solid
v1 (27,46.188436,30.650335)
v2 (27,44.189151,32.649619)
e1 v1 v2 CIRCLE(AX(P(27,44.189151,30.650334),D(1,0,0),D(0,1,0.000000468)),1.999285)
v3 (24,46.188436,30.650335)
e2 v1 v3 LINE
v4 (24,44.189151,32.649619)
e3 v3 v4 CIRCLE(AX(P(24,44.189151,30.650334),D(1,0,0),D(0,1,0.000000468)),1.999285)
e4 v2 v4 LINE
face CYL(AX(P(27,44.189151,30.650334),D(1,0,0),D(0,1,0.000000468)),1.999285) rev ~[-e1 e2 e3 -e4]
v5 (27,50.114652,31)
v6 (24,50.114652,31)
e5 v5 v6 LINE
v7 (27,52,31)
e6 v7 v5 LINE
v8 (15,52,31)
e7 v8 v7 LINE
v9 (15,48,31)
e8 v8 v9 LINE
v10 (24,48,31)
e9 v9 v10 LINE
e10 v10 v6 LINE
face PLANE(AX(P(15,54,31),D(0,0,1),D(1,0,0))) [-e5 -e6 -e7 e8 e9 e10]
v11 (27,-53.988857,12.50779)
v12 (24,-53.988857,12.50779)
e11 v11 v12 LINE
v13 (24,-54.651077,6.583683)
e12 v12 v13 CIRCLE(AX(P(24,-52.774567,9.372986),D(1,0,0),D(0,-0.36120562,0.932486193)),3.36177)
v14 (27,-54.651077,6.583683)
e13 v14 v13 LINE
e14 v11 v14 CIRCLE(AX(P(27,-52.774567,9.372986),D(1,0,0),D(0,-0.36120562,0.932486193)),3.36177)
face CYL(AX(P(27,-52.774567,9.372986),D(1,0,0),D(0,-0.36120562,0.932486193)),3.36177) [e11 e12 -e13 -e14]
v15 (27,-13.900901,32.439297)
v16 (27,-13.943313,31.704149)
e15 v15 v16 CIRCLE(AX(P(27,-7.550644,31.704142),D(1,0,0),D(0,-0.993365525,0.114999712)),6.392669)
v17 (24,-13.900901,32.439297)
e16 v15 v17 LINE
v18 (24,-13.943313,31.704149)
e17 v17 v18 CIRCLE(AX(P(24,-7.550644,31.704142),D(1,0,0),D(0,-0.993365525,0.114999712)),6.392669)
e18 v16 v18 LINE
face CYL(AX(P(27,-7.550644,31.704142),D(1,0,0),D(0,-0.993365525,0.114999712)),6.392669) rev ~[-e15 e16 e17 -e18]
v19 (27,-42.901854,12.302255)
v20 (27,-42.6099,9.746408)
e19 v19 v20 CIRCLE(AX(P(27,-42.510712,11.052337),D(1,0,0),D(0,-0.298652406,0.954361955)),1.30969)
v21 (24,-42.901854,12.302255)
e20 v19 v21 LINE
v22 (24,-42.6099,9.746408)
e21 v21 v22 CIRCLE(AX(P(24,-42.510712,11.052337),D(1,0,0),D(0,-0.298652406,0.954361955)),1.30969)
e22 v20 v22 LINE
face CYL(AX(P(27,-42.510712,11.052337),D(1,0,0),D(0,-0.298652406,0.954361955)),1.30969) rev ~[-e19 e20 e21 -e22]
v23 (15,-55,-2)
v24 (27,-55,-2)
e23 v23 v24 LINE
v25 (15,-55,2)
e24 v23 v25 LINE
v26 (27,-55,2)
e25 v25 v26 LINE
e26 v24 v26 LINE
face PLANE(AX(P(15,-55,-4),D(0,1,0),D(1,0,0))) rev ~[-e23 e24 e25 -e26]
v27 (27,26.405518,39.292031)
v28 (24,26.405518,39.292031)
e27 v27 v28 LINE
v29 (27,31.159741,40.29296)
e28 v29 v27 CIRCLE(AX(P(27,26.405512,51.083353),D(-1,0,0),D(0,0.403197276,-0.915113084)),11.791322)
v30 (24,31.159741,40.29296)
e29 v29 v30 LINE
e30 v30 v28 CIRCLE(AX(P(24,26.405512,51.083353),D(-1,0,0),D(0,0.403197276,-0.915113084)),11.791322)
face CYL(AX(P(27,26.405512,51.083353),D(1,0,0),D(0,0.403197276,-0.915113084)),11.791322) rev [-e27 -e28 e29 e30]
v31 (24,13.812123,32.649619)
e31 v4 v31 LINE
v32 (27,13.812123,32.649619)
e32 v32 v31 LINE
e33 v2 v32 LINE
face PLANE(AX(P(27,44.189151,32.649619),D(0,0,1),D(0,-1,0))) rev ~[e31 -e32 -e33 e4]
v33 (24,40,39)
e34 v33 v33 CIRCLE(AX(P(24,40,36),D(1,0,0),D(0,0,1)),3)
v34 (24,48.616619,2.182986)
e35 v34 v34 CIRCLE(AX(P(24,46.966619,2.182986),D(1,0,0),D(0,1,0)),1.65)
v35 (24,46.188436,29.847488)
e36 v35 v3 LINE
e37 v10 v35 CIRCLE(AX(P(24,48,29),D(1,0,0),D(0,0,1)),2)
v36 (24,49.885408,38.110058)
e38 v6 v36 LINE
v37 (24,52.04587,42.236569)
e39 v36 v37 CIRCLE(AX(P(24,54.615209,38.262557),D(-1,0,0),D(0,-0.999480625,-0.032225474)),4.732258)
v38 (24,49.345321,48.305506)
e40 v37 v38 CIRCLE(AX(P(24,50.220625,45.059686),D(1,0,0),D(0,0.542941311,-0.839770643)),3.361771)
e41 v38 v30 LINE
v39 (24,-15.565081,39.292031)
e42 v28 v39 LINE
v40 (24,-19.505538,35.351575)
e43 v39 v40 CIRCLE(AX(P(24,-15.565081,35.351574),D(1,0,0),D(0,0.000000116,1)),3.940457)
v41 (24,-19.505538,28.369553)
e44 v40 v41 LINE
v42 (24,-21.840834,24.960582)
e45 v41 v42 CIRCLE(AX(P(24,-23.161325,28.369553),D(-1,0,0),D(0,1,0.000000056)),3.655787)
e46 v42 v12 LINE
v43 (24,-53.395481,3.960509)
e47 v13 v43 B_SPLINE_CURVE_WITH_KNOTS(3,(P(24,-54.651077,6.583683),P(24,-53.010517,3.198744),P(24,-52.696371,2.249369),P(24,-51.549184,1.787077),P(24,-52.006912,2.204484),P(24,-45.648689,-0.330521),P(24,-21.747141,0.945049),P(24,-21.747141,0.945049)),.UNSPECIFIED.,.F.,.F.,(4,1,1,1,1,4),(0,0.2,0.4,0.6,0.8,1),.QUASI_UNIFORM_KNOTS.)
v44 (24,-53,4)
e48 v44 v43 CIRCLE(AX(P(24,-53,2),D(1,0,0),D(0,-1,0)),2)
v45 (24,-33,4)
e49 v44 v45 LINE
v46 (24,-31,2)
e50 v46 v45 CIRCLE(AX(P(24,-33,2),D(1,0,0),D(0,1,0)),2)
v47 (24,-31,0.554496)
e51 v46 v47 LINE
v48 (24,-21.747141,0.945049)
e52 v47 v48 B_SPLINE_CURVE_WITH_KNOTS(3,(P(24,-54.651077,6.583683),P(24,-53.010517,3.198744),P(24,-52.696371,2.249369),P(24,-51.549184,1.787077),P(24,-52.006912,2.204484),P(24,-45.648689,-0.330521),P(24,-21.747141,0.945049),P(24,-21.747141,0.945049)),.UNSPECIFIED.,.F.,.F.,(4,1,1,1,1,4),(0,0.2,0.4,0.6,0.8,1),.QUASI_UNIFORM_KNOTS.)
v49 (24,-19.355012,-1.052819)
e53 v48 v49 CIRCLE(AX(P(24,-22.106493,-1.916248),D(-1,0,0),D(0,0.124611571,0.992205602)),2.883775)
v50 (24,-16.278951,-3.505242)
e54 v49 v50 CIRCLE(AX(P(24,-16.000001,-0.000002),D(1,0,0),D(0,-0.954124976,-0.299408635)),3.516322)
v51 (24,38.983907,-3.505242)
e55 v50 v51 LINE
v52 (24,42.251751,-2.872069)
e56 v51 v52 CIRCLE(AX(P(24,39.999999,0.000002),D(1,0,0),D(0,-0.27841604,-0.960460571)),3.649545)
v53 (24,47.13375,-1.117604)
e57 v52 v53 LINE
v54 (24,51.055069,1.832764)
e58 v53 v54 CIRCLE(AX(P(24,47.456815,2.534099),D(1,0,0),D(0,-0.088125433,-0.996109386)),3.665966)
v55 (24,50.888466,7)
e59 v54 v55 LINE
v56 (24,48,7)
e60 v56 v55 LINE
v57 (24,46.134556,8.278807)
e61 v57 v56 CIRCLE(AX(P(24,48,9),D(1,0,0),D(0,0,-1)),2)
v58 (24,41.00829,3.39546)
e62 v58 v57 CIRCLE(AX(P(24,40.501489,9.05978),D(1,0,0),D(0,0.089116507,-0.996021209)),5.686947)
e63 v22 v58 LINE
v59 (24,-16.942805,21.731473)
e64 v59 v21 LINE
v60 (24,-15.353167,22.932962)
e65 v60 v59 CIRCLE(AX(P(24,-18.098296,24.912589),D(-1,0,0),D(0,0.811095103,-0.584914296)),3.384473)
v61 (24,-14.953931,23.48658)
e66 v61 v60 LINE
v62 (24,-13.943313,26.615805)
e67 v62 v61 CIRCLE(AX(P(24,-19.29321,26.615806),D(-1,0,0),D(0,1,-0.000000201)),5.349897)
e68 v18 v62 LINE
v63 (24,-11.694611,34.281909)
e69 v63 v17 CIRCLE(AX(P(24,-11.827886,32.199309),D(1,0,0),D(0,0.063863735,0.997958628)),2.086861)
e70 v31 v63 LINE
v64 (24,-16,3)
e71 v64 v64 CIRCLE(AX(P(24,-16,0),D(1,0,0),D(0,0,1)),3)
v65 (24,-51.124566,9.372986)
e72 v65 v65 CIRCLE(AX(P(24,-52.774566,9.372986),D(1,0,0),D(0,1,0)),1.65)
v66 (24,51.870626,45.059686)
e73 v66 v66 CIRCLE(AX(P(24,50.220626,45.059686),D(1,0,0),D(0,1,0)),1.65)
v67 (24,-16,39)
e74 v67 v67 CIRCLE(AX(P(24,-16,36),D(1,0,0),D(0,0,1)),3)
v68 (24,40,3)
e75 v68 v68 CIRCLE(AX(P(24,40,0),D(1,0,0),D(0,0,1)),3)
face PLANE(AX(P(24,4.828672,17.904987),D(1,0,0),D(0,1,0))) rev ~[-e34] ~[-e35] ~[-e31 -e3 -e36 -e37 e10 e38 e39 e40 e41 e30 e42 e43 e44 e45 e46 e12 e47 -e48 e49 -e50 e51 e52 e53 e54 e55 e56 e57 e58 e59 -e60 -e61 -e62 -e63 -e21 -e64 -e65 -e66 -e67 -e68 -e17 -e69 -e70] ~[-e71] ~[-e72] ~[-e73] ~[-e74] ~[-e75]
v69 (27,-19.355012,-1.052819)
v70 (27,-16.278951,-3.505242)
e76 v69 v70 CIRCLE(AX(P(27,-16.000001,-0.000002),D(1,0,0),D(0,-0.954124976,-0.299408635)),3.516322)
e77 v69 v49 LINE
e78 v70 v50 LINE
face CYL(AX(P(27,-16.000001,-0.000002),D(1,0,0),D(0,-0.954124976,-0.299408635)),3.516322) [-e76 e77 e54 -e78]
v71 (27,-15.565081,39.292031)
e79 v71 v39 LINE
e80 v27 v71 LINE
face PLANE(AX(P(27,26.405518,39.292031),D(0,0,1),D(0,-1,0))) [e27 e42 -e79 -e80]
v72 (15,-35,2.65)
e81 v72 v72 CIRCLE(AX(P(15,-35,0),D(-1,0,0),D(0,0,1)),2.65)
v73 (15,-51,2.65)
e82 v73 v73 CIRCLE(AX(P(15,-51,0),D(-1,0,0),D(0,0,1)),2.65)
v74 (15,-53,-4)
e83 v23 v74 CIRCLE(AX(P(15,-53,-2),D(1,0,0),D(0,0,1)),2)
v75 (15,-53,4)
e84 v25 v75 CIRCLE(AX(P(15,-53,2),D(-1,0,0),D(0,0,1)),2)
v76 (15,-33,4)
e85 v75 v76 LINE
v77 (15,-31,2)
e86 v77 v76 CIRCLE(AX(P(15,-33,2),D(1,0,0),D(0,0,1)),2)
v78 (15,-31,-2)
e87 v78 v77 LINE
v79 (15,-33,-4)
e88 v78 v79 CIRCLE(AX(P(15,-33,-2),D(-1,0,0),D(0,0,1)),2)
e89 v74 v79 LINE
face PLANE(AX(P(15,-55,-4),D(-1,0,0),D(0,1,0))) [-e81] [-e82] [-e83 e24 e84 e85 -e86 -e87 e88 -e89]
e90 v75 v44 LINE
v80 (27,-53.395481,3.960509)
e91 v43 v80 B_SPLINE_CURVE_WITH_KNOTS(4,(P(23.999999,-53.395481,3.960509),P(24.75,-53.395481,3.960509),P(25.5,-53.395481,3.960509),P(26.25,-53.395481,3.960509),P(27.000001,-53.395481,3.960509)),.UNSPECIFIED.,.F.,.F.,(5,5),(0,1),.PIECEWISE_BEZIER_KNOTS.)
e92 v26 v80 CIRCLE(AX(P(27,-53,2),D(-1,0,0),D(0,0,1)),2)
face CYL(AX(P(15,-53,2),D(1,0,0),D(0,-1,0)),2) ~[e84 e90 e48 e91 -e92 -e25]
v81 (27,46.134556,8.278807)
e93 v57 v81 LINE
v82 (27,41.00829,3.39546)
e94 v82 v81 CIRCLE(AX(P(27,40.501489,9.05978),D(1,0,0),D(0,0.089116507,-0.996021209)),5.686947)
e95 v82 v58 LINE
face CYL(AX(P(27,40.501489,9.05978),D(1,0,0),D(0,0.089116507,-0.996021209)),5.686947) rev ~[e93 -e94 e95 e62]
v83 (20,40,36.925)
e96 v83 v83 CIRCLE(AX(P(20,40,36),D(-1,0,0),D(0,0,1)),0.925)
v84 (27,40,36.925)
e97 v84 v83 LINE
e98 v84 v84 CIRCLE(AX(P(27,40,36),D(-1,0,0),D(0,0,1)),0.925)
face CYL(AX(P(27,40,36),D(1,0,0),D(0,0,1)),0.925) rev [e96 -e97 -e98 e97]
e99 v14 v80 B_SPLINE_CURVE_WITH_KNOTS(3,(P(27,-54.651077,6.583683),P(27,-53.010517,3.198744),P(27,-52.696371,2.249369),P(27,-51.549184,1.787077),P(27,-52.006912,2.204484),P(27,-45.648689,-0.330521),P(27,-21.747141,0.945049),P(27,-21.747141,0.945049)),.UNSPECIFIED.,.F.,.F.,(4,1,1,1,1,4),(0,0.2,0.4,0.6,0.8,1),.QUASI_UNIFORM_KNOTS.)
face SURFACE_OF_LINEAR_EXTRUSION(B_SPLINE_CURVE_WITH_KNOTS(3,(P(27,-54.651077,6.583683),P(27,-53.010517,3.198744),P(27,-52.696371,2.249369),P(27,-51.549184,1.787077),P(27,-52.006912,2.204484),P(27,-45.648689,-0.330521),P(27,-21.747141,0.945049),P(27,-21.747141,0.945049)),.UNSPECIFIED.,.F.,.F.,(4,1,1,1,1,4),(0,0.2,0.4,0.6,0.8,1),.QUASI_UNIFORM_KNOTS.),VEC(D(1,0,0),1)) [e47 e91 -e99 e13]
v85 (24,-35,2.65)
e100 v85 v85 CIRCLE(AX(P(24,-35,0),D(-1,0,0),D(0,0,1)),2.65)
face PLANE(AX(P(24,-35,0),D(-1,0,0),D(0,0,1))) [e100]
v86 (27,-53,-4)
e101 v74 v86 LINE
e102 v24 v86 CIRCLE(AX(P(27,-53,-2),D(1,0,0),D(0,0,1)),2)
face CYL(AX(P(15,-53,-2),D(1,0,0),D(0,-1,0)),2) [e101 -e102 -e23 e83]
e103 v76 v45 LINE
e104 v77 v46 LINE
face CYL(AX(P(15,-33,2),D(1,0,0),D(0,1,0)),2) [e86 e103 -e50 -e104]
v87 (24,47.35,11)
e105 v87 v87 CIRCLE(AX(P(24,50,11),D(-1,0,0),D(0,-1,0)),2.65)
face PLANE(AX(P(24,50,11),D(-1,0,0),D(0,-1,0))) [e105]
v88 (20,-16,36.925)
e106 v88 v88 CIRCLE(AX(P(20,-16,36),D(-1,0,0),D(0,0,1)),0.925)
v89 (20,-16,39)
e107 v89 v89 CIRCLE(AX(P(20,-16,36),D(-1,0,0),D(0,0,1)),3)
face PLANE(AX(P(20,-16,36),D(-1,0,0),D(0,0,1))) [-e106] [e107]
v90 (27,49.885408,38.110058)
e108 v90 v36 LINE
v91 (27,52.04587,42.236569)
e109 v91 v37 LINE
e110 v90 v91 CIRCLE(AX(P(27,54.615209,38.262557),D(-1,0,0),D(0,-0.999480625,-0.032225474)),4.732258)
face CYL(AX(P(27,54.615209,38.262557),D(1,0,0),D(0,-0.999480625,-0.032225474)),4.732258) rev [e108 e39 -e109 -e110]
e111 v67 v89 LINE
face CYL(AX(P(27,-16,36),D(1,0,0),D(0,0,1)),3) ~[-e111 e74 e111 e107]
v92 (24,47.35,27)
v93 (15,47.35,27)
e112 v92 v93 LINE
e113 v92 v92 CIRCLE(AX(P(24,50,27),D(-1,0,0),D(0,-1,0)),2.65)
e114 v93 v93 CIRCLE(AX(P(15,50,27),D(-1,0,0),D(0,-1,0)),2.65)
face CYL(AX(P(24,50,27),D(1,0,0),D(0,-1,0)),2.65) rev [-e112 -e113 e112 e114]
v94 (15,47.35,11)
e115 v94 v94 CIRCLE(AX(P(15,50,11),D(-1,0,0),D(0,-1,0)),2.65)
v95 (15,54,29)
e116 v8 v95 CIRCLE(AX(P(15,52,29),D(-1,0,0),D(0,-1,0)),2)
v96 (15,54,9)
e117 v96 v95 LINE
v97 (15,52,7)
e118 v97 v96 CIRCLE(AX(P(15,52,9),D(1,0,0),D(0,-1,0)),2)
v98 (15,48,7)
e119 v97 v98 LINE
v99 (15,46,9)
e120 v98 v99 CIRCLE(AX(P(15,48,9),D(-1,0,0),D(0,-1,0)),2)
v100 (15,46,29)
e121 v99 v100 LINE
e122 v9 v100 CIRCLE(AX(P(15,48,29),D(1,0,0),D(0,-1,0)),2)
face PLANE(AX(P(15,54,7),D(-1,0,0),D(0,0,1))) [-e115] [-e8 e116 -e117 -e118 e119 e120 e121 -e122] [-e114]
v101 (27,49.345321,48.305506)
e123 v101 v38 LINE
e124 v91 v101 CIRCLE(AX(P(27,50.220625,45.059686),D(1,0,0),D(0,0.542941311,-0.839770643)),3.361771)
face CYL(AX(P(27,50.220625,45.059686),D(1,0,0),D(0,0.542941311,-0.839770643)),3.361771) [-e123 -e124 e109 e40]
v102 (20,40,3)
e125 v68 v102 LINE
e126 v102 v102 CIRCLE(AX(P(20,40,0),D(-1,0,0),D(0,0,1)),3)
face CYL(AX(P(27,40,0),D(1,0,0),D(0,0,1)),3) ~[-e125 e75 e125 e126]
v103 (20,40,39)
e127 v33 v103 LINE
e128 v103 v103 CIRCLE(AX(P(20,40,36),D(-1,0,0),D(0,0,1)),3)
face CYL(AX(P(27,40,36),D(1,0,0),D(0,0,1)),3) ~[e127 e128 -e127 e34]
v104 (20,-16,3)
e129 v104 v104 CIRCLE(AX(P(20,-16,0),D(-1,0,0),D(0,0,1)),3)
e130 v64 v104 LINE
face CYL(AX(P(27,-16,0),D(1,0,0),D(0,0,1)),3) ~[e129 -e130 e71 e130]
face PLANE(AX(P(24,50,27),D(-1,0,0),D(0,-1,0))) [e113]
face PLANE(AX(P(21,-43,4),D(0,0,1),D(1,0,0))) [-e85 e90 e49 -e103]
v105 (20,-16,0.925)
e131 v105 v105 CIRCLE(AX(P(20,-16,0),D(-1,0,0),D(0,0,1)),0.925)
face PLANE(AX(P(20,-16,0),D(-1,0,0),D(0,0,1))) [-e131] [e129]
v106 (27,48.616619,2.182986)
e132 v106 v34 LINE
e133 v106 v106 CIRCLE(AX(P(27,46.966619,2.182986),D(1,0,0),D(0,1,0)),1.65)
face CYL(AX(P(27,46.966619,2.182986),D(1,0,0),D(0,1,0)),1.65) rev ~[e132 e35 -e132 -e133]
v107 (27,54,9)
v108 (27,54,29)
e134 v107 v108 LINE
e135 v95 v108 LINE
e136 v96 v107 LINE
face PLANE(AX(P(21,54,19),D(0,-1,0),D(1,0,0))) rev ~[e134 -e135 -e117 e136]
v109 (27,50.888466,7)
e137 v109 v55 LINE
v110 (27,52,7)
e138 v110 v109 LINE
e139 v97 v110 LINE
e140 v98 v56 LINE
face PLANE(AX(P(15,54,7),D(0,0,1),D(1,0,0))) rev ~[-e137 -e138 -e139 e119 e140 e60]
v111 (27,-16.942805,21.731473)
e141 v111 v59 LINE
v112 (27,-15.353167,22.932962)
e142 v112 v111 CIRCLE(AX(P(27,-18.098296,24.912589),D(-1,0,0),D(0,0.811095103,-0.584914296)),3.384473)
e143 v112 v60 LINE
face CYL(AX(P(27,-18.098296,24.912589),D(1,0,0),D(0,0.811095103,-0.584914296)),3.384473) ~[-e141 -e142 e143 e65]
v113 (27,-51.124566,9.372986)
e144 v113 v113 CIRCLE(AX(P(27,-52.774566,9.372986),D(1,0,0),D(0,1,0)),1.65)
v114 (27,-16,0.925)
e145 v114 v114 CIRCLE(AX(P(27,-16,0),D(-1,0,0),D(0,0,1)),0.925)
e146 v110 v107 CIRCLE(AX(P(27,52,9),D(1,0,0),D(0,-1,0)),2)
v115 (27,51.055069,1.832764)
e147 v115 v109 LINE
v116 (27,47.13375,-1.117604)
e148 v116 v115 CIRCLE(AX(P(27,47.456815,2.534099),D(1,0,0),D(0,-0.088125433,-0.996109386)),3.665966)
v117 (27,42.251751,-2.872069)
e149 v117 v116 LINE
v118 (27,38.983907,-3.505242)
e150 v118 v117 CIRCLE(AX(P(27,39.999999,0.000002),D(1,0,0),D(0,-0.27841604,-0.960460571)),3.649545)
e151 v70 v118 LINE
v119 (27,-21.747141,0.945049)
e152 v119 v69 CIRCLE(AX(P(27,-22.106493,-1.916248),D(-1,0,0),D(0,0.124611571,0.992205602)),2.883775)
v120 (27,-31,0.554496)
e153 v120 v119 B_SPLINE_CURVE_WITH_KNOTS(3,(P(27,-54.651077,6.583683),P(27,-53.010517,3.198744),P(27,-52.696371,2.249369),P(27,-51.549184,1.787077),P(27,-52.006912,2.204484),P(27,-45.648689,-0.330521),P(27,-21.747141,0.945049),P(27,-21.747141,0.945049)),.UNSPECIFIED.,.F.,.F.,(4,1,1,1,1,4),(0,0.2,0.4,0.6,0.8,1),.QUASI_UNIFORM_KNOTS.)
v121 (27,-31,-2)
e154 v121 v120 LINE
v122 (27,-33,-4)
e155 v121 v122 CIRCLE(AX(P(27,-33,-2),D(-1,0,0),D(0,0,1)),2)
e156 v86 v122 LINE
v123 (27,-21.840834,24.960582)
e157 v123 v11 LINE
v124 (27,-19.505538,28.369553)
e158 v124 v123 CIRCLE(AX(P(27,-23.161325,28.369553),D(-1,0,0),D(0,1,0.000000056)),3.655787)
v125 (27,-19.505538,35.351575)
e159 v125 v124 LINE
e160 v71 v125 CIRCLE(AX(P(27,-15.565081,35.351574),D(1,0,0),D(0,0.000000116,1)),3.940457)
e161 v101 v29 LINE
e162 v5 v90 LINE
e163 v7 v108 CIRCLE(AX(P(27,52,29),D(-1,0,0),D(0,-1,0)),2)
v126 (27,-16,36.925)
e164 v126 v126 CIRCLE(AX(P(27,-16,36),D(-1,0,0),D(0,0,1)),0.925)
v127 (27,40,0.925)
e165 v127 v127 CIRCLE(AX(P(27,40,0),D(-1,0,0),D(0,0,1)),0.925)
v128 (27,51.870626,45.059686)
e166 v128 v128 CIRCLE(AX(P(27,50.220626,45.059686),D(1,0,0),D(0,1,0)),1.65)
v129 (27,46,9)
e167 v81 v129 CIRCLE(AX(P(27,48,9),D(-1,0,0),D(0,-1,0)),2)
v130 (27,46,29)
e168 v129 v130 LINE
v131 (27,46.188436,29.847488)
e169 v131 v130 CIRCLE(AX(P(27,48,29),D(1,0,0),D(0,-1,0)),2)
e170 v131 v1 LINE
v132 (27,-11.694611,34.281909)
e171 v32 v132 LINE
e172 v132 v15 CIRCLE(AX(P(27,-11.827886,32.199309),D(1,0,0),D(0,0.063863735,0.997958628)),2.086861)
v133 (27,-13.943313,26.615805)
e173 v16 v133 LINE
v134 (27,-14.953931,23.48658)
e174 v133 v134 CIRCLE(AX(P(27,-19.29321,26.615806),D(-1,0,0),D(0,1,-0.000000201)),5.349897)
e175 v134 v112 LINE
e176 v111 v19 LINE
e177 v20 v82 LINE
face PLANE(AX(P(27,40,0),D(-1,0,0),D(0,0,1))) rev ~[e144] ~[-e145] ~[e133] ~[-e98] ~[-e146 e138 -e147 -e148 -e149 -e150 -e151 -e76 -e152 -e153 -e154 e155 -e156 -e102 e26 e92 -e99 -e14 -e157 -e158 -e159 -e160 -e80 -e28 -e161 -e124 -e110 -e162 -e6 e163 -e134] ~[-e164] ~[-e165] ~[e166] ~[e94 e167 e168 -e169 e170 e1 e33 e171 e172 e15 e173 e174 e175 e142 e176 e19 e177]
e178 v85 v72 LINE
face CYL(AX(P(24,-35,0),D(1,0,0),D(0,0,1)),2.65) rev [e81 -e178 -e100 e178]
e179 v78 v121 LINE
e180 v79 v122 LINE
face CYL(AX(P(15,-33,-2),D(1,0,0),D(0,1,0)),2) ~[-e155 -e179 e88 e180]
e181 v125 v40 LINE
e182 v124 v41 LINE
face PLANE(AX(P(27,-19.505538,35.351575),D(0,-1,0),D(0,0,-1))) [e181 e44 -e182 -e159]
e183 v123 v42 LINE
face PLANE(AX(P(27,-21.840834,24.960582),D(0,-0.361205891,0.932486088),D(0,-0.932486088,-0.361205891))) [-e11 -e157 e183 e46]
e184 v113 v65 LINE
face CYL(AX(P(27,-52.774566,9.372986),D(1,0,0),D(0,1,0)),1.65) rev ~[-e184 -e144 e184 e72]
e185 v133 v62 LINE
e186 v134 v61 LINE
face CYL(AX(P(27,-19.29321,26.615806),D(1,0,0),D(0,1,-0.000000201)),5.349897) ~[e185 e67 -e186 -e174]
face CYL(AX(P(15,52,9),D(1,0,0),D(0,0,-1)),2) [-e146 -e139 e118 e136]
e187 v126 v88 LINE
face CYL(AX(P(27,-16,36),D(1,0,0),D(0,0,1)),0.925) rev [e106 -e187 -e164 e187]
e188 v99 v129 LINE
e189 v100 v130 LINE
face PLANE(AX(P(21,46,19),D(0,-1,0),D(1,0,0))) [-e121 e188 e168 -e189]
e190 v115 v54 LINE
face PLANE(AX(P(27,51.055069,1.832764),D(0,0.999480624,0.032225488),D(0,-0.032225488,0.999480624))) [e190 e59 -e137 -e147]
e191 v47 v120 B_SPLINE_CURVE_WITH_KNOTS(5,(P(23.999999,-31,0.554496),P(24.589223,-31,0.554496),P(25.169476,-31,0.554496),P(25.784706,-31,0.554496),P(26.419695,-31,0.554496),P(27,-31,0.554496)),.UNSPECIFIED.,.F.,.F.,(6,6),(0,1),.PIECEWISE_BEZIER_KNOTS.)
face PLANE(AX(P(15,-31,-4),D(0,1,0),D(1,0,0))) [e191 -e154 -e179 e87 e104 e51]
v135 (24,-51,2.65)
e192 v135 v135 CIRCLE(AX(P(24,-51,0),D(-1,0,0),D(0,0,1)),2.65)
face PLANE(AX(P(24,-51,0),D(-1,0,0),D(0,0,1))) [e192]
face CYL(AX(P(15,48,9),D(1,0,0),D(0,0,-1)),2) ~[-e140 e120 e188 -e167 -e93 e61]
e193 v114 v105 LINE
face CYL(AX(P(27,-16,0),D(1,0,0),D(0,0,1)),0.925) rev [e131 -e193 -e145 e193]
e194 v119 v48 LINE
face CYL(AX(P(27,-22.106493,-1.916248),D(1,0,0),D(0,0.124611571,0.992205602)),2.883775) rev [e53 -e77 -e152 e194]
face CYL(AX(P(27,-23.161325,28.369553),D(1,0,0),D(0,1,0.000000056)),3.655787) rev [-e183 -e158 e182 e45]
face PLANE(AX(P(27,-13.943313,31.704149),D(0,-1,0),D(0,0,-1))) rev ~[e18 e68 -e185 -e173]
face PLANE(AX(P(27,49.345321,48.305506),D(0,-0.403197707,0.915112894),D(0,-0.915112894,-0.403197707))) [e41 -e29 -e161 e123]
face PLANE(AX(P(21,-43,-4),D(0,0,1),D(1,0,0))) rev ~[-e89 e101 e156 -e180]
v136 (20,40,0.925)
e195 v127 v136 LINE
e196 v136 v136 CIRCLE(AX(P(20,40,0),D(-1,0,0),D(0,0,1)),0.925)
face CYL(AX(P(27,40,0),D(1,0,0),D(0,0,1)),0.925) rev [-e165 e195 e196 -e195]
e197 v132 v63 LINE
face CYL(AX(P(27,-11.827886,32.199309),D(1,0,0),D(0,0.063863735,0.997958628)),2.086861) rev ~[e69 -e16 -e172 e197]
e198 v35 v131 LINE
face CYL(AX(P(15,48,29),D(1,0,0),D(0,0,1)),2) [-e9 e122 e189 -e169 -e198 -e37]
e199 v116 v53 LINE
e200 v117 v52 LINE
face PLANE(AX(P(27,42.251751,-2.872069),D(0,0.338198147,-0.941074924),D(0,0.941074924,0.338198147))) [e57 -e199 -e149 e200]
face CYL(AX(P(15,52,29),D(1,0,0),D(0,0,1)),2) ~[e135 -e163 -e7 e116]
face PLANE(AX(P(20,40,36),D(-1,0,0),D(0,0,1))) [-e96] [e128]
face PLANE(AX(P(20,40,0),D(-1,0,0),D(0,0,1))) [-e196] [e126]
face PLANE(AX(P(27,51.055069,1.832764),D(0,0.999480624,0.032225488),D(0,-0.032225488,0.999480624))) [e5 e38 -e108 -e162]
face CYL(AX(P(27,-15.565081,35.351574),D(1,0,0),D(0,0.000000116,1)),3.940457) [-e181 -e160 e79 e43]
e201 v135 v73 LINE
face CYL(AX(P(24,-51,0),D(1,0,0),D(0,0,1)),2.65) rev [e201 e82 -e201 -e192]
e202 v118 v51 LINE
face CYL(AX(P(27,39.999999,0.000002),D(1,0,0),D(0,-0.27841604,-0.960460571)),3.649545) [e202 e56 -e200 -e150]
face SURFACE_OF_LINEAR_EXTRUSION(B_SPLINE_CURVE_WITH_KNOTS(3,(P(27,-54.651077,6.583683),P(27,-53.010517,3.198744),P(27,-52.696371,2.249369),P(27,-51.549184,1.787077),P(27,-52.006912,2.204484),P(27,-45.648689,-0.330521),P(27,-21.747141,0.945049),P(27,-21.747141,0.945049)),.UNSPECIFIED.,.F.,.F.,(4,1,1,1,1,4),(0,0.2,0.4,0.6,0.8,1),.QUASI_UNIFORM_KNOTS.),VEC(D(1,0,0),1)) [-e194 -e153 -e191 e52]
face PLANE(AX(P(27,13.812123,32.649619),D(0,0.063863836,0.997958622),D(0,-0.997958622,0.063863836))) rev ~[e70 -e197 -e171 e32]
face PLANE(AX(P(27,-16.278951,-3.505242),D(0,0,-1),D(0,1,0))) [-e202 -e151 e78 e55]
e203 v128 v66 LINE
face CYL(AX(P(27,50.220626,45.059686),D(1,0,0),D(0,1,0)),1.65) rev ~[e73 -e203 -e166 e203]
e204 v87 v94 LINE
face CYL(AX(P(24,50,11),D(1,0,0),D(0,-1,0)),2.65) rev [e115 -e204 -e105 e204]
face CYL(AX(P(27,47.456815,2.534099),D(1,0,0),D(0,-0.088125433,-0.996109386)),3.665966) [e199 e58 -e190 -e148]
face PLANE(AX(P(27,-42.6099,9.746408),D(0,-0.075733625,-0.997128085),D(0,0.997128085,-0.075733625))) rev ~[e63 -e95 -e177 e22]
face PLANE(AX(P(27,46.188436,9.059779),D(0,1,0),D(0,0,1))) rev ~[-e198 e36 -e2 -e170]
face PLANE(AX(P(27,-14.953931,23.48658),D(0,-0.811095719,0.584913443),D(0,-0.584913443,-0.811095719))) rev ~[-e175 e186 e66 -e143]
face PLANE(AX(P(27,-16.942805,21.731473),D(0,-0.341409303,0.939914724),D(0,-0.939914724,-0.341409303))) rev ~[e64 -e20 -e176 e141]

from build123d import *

# Parameters (mm, degrees)
CYLINDER003_R            = 2.65
CYLINDER003_DEPTH        = 9
CLONE009_PLACEMENT_ANGLE = 90
BOX002_W                 = 12
BOX002_H                 = 24
BOX002_DEPTH             = 8
FILLET_R                 = 2
CYLINDER002_R            = 0.925
CYLINDER002_DEPTH        = 7
CYLINDER001_R            = 3
CYLINDER001_DEPTH        = 7
SKETCH002_R              = 1.65
EXTRUDE002_DEPTH         = 3
CLONE010_PLACEMENT_ANGLE = 90


with BuildPart() as insert001:
    # Cylinder003 → Cylinder003 (new body)
    with BuildSketch(Plane(origin=(24, -35, 3), x_dir=(0, 0, 1), z_dir=(-1, 0, 0))):
        Circle(CYLINDER003_R)
    extrude(amount=CYLINDER003_DEPTH)


with BuildPart() as insert002:
    # Clone006 base: copy of insert001
    add(insert001.part)


with BuildPart() as insert002_1:
    # Clone006 placement: moved
    add(insert002.part.moved(Location((0, -16, 0))))


with BuildPart() as tieinserts001:
    # Fusion002 base: copy of insert001
    add(insert001.part)

    # Fusion002: union insert002
    add(insert002_1.part)


with BuildPart() as tieinserts001_1:
    # Fusion002 placement: moved
    add(tieinserts001.part.moved(Location((0, 0, -3))))


with BuildPart() as insertsfusion003:
    # Clone009 base: copy of tieInserts001
    add(tieinserts001_1.part)


with BuildPart() as insertsfusion003_1:
    # Clone009 placement: moved
    add(insertsfusion003.part.moved(Location((0, 50, 62))).rotate(Axis((0, 50, 62), (1, 0, 0)), CLONE009_PLACEMENT_ANGLE))

    # Fusion003: union tieInserts001
    add(tieinserts001_1.part)


with BuildPart() as tiefillet001:
    # Box002 → Box002 (new body)
    with BuildSketch(Plane(origin=(15, -55, -1), x_dir=(1, 0, 0), z_dir=(0, 0, 1))):
        with Locations((6, 12)):
            Rectangle(BOX002_W, BOX002_H)
    extrude(amount=BOX002_DEPTH)

    # Fillet
    fillet_edges = [tiefillet001.edges().sort_by_distance(p)[0] for p in [
        (21, -55, -1),
        (21, -55, 7),
        (21, -31, -1),
        (21, -31, 7),
    ]]
    fillet(fillet_edges, radius=FILLET_R)


with BuildPart() as tiefillet001_1:
    # Fillet placement: moved
    add(tiefillet001.part.moved(Location((0, 0, -3))))


with BuildPart() as hole002:
    # Cylinder002 → Cylinder002 (new body)
    with BuildSketch(Plane(origin=(27, -16, 0), x_dir=(0, 0, 1), z_dir=(-1, 0, 0))):
        Circle(CYLINDER002_R)
    extrude(amount=CYLINDER002_DEPTH)


with BuildPart() as hole003:
    # Clone003 base: copy of hole002
    add(hole002.part)


with BuildPart() as hole003_1:
    # Clone003 placement: moved
    add(hole003.part.moved(Location((0, 0, 36))))


with BuildPart() as hole004:
    # Clone004 base: copy of hole003
    add(hole003_1.part)


with BuildPart() as hole004_1:
    # Clone004 placement: moved
    add(hole004.part.moved(Location((0, 56, -36))))


with BuildPart() as hole005:
    # Clone005 base: copy of hole004
    add(hole004_1.part)


with BuildPart() as hole005_1:
    # Clone005 placement: moved
    add(hole005.part.moved(Location((0, 0, 36))))


with BuildPart() as holesfusion001:
    # Fusion base: copy of hole002
    add(hole002.part)

    # Fusion: union hole003, hole004, hole005
    add(hole003_1.part)
    add(hole004_1.part)
    add(hole005_1.part)


with BuildPart() as attach001:
    # Cylinder001 → Cylinder001 (new body)
    with BuildSketch(Plane(origin=(27, 40, 0), x_dir=(0, 0, 1), z_dir=(-1, 0, 0))):
        Circle(CYLINDER001_R)
    extrude(amount=CYLINDER001_DEPTH)


with BuildPart() as attach002:
    # Clone base: copy of attach001
    add(attach001.part)


with BuildPart() as attach002_1:
    # Clone placement: moved
    add(attach002.part.moved(Location((0, 0, 36))))


with BuildPart() as attach003:
    # Clone001 base: copy of attach002
    add(attach002_1.part)


with BuildPart() as attach003_1:
    # Clone001 placement: moved
    add(attach003.part.moved(Location((0, -56, -36))))


with BuildPart() as attach004:
    # Clone002 base: copy of attach003
    add(attach003_1.part)


with BuildPart() as attach004_1:
    # Clone002 placement: moved
    add(attach004.part.moved(Location((0, 0, 36))))


with BuildPart() as fullbracket001:
    # Sketch002 (on Face5 of Extrude001) → Extrude002 (new body)
    with BuildSketch(Plane.YZ.offset(27)):
        with BuildLine():
            Line((-21.840834, 24.960582), (-53.988857, 12.50779))
            ThreePointArc((-53.988857, 12.50779), (-56.115528, 9.746452), (-54.651077, 6.583683))
            add(Edge.make_bspline(
                [(-54.651077, 6.583683), (-53.010517, 3.198744), (-52.696371, 2.249369), (-51.549184, 1.787077), (-52.006912, 2.204484), (-45.648689, -0.330521), (-21.747141, 0.945049), (-21.747141, 0.945049)],
                knots=[0, 0, 0, 0, 0.2, 0.4, 0.6, 0.8, 1, 1, 1, 1], degree=3))
            ThreePointArc((-21.747141, 0.945049), (-20.257929, 0.297113), (-19.355012, -1.052819))
            ThreePointArc((-19.355012, -1.052819), (-18.192035, -2.749458), (-16.278951, -3.505242))
            Line((-16.278951, -3.505242), (38.983907, -3.505242))
            ThreePointArc((38.983907, -3.505242), (40.694219, -3.582907), (42.251751, -2.872069))
            Line((42.251751, -2.872069), (47.13375, -1.117604))
            ThreePointArc((47.13375, -1.117604), (49.660876, -0.395307), (51.055069, 1.832764))
            Line((51.055069, 1.832764), (49.885408, 38.110058))
            ThreePointArc((49.885408, 38.110058), (50.422789, 40.457526), (52.04587, 42.236569))
            ThreePointArc((52.04587, 42.236569), (53.292041, 46.426402), (49.345321, 48.305506))
            Line((49.345321, 48.305506), (31.159741, 40.29296))
            ThreePointArc((31.159741, 40.29296), (28.834741, 39.544977), (26.405518, 39.292031))
            Line((26.405518, 39.292031), (-15.565081, 39.292031))
            ThreePointArc((-15.565081, 39.292031), (-18.351405, 38.137898), (-19.505538, 35.351575))
            Line((-19.505538, 35.351575), (-19.505538, 28.369553))
            ThreePointArc((-19.505538, 28.369553), (-20.14535, 26.303476), (-21.840834, 24.960582))
        make_face()
        with Locations((-52.774566, 9.372986)):
            Circle(SKETCH002_R, mode=Mode.SUBTRACT)
        with Locations((50.220626, 45.059686)):
            Circle(SKETCH002_R, mode=Mode.SUBTRACT)
        with Locations((46.966619, 2.182986)):
            Circle(SKETCH002_R, mode=Mode.SUBTRACT)
        with BuildLine():
            ThreePointArc((-42.901854, 12.302255), (-43.81194, 10.903698), (-42.6099, 9.746408))
            Line((-42.6099, 9.746408), (41.00829, 3.39546))
            ThreePointArc((41.00829, 3.39546), (44.698125, 5.221862), (46.188436, 9.059779))
            Line((46.188436, 9.059779), (46.188436, 30.650335))
            ThreePointArc((46.188436, 30.650335), (45.602859, 32.064042), (44.189151, 32.649619))
            Line((44.189151, 32.649619), (13.812123, 32.649619))
            Line((13.812123, 32.649619), (-11.694611, 34.281909))
            ThreePointArc((-11.694611, 34.281909), (-13.16559, 33.801037), (-13.900901, 32.439297))
            ThreePointArc((-13.900901, 32.439297), (-13.932701, 32.072334), (-13.943313, 31.704149))
            Line((-13.943313, 31.704149), (-13.943313, 26.615805))
            ThreePointArc((-13.943313, 26.615805), (-14.202233, 24.971619), (-14.953931, 23.48658))
            Line((-14.953931, 23.48658), (-15.353167, 22.932962))
            ThreePointArc((-15.353167, 22.932962), (-16.05756, 22.212579), (-16.942805, 21.731473))
            Line((-16.942805, 21.731473), (-42.901854, 12.302255))
        make_face(mode=Mode.SUBTRACT)
    extrude(amount=-EXTRUDE002_DEPTH)

    # Fusion001: union attach004, attach003, attach002, attach001
    add(attach004_1.part)
    add(attach003_1.part)
    add(attach002_1.part)
    add(attach001.part)

    # Cut001: cut holesFusion001
    add(holesfusion001.part, mode=Mode.SUBTRACT)


with BuildPart() as fullbracket002:
    # Clone010 base: copy of tieFillet001
    add(tiefillet001_1.part)


with BuildPart() as fullbracket002_1:
    # Clone010 placement: moved
    add(fullbracket002.part.moved(Location((0, 50, 62))).rotate(Axis((0, 50, 62), (1, 0, 0)), CLONE010_PLACEMENT_ANGLE))

    # Fusion004: union tieFillet001, fullbracket001
    add(tiefillet001_1.part)
    add(fullbracket001.part)

    # Cut002: cut insertsFusion003
    add(insertsfusion003_1.part, mode=Mode.SUBTRACT)


solid = fullbracket002_1.part
